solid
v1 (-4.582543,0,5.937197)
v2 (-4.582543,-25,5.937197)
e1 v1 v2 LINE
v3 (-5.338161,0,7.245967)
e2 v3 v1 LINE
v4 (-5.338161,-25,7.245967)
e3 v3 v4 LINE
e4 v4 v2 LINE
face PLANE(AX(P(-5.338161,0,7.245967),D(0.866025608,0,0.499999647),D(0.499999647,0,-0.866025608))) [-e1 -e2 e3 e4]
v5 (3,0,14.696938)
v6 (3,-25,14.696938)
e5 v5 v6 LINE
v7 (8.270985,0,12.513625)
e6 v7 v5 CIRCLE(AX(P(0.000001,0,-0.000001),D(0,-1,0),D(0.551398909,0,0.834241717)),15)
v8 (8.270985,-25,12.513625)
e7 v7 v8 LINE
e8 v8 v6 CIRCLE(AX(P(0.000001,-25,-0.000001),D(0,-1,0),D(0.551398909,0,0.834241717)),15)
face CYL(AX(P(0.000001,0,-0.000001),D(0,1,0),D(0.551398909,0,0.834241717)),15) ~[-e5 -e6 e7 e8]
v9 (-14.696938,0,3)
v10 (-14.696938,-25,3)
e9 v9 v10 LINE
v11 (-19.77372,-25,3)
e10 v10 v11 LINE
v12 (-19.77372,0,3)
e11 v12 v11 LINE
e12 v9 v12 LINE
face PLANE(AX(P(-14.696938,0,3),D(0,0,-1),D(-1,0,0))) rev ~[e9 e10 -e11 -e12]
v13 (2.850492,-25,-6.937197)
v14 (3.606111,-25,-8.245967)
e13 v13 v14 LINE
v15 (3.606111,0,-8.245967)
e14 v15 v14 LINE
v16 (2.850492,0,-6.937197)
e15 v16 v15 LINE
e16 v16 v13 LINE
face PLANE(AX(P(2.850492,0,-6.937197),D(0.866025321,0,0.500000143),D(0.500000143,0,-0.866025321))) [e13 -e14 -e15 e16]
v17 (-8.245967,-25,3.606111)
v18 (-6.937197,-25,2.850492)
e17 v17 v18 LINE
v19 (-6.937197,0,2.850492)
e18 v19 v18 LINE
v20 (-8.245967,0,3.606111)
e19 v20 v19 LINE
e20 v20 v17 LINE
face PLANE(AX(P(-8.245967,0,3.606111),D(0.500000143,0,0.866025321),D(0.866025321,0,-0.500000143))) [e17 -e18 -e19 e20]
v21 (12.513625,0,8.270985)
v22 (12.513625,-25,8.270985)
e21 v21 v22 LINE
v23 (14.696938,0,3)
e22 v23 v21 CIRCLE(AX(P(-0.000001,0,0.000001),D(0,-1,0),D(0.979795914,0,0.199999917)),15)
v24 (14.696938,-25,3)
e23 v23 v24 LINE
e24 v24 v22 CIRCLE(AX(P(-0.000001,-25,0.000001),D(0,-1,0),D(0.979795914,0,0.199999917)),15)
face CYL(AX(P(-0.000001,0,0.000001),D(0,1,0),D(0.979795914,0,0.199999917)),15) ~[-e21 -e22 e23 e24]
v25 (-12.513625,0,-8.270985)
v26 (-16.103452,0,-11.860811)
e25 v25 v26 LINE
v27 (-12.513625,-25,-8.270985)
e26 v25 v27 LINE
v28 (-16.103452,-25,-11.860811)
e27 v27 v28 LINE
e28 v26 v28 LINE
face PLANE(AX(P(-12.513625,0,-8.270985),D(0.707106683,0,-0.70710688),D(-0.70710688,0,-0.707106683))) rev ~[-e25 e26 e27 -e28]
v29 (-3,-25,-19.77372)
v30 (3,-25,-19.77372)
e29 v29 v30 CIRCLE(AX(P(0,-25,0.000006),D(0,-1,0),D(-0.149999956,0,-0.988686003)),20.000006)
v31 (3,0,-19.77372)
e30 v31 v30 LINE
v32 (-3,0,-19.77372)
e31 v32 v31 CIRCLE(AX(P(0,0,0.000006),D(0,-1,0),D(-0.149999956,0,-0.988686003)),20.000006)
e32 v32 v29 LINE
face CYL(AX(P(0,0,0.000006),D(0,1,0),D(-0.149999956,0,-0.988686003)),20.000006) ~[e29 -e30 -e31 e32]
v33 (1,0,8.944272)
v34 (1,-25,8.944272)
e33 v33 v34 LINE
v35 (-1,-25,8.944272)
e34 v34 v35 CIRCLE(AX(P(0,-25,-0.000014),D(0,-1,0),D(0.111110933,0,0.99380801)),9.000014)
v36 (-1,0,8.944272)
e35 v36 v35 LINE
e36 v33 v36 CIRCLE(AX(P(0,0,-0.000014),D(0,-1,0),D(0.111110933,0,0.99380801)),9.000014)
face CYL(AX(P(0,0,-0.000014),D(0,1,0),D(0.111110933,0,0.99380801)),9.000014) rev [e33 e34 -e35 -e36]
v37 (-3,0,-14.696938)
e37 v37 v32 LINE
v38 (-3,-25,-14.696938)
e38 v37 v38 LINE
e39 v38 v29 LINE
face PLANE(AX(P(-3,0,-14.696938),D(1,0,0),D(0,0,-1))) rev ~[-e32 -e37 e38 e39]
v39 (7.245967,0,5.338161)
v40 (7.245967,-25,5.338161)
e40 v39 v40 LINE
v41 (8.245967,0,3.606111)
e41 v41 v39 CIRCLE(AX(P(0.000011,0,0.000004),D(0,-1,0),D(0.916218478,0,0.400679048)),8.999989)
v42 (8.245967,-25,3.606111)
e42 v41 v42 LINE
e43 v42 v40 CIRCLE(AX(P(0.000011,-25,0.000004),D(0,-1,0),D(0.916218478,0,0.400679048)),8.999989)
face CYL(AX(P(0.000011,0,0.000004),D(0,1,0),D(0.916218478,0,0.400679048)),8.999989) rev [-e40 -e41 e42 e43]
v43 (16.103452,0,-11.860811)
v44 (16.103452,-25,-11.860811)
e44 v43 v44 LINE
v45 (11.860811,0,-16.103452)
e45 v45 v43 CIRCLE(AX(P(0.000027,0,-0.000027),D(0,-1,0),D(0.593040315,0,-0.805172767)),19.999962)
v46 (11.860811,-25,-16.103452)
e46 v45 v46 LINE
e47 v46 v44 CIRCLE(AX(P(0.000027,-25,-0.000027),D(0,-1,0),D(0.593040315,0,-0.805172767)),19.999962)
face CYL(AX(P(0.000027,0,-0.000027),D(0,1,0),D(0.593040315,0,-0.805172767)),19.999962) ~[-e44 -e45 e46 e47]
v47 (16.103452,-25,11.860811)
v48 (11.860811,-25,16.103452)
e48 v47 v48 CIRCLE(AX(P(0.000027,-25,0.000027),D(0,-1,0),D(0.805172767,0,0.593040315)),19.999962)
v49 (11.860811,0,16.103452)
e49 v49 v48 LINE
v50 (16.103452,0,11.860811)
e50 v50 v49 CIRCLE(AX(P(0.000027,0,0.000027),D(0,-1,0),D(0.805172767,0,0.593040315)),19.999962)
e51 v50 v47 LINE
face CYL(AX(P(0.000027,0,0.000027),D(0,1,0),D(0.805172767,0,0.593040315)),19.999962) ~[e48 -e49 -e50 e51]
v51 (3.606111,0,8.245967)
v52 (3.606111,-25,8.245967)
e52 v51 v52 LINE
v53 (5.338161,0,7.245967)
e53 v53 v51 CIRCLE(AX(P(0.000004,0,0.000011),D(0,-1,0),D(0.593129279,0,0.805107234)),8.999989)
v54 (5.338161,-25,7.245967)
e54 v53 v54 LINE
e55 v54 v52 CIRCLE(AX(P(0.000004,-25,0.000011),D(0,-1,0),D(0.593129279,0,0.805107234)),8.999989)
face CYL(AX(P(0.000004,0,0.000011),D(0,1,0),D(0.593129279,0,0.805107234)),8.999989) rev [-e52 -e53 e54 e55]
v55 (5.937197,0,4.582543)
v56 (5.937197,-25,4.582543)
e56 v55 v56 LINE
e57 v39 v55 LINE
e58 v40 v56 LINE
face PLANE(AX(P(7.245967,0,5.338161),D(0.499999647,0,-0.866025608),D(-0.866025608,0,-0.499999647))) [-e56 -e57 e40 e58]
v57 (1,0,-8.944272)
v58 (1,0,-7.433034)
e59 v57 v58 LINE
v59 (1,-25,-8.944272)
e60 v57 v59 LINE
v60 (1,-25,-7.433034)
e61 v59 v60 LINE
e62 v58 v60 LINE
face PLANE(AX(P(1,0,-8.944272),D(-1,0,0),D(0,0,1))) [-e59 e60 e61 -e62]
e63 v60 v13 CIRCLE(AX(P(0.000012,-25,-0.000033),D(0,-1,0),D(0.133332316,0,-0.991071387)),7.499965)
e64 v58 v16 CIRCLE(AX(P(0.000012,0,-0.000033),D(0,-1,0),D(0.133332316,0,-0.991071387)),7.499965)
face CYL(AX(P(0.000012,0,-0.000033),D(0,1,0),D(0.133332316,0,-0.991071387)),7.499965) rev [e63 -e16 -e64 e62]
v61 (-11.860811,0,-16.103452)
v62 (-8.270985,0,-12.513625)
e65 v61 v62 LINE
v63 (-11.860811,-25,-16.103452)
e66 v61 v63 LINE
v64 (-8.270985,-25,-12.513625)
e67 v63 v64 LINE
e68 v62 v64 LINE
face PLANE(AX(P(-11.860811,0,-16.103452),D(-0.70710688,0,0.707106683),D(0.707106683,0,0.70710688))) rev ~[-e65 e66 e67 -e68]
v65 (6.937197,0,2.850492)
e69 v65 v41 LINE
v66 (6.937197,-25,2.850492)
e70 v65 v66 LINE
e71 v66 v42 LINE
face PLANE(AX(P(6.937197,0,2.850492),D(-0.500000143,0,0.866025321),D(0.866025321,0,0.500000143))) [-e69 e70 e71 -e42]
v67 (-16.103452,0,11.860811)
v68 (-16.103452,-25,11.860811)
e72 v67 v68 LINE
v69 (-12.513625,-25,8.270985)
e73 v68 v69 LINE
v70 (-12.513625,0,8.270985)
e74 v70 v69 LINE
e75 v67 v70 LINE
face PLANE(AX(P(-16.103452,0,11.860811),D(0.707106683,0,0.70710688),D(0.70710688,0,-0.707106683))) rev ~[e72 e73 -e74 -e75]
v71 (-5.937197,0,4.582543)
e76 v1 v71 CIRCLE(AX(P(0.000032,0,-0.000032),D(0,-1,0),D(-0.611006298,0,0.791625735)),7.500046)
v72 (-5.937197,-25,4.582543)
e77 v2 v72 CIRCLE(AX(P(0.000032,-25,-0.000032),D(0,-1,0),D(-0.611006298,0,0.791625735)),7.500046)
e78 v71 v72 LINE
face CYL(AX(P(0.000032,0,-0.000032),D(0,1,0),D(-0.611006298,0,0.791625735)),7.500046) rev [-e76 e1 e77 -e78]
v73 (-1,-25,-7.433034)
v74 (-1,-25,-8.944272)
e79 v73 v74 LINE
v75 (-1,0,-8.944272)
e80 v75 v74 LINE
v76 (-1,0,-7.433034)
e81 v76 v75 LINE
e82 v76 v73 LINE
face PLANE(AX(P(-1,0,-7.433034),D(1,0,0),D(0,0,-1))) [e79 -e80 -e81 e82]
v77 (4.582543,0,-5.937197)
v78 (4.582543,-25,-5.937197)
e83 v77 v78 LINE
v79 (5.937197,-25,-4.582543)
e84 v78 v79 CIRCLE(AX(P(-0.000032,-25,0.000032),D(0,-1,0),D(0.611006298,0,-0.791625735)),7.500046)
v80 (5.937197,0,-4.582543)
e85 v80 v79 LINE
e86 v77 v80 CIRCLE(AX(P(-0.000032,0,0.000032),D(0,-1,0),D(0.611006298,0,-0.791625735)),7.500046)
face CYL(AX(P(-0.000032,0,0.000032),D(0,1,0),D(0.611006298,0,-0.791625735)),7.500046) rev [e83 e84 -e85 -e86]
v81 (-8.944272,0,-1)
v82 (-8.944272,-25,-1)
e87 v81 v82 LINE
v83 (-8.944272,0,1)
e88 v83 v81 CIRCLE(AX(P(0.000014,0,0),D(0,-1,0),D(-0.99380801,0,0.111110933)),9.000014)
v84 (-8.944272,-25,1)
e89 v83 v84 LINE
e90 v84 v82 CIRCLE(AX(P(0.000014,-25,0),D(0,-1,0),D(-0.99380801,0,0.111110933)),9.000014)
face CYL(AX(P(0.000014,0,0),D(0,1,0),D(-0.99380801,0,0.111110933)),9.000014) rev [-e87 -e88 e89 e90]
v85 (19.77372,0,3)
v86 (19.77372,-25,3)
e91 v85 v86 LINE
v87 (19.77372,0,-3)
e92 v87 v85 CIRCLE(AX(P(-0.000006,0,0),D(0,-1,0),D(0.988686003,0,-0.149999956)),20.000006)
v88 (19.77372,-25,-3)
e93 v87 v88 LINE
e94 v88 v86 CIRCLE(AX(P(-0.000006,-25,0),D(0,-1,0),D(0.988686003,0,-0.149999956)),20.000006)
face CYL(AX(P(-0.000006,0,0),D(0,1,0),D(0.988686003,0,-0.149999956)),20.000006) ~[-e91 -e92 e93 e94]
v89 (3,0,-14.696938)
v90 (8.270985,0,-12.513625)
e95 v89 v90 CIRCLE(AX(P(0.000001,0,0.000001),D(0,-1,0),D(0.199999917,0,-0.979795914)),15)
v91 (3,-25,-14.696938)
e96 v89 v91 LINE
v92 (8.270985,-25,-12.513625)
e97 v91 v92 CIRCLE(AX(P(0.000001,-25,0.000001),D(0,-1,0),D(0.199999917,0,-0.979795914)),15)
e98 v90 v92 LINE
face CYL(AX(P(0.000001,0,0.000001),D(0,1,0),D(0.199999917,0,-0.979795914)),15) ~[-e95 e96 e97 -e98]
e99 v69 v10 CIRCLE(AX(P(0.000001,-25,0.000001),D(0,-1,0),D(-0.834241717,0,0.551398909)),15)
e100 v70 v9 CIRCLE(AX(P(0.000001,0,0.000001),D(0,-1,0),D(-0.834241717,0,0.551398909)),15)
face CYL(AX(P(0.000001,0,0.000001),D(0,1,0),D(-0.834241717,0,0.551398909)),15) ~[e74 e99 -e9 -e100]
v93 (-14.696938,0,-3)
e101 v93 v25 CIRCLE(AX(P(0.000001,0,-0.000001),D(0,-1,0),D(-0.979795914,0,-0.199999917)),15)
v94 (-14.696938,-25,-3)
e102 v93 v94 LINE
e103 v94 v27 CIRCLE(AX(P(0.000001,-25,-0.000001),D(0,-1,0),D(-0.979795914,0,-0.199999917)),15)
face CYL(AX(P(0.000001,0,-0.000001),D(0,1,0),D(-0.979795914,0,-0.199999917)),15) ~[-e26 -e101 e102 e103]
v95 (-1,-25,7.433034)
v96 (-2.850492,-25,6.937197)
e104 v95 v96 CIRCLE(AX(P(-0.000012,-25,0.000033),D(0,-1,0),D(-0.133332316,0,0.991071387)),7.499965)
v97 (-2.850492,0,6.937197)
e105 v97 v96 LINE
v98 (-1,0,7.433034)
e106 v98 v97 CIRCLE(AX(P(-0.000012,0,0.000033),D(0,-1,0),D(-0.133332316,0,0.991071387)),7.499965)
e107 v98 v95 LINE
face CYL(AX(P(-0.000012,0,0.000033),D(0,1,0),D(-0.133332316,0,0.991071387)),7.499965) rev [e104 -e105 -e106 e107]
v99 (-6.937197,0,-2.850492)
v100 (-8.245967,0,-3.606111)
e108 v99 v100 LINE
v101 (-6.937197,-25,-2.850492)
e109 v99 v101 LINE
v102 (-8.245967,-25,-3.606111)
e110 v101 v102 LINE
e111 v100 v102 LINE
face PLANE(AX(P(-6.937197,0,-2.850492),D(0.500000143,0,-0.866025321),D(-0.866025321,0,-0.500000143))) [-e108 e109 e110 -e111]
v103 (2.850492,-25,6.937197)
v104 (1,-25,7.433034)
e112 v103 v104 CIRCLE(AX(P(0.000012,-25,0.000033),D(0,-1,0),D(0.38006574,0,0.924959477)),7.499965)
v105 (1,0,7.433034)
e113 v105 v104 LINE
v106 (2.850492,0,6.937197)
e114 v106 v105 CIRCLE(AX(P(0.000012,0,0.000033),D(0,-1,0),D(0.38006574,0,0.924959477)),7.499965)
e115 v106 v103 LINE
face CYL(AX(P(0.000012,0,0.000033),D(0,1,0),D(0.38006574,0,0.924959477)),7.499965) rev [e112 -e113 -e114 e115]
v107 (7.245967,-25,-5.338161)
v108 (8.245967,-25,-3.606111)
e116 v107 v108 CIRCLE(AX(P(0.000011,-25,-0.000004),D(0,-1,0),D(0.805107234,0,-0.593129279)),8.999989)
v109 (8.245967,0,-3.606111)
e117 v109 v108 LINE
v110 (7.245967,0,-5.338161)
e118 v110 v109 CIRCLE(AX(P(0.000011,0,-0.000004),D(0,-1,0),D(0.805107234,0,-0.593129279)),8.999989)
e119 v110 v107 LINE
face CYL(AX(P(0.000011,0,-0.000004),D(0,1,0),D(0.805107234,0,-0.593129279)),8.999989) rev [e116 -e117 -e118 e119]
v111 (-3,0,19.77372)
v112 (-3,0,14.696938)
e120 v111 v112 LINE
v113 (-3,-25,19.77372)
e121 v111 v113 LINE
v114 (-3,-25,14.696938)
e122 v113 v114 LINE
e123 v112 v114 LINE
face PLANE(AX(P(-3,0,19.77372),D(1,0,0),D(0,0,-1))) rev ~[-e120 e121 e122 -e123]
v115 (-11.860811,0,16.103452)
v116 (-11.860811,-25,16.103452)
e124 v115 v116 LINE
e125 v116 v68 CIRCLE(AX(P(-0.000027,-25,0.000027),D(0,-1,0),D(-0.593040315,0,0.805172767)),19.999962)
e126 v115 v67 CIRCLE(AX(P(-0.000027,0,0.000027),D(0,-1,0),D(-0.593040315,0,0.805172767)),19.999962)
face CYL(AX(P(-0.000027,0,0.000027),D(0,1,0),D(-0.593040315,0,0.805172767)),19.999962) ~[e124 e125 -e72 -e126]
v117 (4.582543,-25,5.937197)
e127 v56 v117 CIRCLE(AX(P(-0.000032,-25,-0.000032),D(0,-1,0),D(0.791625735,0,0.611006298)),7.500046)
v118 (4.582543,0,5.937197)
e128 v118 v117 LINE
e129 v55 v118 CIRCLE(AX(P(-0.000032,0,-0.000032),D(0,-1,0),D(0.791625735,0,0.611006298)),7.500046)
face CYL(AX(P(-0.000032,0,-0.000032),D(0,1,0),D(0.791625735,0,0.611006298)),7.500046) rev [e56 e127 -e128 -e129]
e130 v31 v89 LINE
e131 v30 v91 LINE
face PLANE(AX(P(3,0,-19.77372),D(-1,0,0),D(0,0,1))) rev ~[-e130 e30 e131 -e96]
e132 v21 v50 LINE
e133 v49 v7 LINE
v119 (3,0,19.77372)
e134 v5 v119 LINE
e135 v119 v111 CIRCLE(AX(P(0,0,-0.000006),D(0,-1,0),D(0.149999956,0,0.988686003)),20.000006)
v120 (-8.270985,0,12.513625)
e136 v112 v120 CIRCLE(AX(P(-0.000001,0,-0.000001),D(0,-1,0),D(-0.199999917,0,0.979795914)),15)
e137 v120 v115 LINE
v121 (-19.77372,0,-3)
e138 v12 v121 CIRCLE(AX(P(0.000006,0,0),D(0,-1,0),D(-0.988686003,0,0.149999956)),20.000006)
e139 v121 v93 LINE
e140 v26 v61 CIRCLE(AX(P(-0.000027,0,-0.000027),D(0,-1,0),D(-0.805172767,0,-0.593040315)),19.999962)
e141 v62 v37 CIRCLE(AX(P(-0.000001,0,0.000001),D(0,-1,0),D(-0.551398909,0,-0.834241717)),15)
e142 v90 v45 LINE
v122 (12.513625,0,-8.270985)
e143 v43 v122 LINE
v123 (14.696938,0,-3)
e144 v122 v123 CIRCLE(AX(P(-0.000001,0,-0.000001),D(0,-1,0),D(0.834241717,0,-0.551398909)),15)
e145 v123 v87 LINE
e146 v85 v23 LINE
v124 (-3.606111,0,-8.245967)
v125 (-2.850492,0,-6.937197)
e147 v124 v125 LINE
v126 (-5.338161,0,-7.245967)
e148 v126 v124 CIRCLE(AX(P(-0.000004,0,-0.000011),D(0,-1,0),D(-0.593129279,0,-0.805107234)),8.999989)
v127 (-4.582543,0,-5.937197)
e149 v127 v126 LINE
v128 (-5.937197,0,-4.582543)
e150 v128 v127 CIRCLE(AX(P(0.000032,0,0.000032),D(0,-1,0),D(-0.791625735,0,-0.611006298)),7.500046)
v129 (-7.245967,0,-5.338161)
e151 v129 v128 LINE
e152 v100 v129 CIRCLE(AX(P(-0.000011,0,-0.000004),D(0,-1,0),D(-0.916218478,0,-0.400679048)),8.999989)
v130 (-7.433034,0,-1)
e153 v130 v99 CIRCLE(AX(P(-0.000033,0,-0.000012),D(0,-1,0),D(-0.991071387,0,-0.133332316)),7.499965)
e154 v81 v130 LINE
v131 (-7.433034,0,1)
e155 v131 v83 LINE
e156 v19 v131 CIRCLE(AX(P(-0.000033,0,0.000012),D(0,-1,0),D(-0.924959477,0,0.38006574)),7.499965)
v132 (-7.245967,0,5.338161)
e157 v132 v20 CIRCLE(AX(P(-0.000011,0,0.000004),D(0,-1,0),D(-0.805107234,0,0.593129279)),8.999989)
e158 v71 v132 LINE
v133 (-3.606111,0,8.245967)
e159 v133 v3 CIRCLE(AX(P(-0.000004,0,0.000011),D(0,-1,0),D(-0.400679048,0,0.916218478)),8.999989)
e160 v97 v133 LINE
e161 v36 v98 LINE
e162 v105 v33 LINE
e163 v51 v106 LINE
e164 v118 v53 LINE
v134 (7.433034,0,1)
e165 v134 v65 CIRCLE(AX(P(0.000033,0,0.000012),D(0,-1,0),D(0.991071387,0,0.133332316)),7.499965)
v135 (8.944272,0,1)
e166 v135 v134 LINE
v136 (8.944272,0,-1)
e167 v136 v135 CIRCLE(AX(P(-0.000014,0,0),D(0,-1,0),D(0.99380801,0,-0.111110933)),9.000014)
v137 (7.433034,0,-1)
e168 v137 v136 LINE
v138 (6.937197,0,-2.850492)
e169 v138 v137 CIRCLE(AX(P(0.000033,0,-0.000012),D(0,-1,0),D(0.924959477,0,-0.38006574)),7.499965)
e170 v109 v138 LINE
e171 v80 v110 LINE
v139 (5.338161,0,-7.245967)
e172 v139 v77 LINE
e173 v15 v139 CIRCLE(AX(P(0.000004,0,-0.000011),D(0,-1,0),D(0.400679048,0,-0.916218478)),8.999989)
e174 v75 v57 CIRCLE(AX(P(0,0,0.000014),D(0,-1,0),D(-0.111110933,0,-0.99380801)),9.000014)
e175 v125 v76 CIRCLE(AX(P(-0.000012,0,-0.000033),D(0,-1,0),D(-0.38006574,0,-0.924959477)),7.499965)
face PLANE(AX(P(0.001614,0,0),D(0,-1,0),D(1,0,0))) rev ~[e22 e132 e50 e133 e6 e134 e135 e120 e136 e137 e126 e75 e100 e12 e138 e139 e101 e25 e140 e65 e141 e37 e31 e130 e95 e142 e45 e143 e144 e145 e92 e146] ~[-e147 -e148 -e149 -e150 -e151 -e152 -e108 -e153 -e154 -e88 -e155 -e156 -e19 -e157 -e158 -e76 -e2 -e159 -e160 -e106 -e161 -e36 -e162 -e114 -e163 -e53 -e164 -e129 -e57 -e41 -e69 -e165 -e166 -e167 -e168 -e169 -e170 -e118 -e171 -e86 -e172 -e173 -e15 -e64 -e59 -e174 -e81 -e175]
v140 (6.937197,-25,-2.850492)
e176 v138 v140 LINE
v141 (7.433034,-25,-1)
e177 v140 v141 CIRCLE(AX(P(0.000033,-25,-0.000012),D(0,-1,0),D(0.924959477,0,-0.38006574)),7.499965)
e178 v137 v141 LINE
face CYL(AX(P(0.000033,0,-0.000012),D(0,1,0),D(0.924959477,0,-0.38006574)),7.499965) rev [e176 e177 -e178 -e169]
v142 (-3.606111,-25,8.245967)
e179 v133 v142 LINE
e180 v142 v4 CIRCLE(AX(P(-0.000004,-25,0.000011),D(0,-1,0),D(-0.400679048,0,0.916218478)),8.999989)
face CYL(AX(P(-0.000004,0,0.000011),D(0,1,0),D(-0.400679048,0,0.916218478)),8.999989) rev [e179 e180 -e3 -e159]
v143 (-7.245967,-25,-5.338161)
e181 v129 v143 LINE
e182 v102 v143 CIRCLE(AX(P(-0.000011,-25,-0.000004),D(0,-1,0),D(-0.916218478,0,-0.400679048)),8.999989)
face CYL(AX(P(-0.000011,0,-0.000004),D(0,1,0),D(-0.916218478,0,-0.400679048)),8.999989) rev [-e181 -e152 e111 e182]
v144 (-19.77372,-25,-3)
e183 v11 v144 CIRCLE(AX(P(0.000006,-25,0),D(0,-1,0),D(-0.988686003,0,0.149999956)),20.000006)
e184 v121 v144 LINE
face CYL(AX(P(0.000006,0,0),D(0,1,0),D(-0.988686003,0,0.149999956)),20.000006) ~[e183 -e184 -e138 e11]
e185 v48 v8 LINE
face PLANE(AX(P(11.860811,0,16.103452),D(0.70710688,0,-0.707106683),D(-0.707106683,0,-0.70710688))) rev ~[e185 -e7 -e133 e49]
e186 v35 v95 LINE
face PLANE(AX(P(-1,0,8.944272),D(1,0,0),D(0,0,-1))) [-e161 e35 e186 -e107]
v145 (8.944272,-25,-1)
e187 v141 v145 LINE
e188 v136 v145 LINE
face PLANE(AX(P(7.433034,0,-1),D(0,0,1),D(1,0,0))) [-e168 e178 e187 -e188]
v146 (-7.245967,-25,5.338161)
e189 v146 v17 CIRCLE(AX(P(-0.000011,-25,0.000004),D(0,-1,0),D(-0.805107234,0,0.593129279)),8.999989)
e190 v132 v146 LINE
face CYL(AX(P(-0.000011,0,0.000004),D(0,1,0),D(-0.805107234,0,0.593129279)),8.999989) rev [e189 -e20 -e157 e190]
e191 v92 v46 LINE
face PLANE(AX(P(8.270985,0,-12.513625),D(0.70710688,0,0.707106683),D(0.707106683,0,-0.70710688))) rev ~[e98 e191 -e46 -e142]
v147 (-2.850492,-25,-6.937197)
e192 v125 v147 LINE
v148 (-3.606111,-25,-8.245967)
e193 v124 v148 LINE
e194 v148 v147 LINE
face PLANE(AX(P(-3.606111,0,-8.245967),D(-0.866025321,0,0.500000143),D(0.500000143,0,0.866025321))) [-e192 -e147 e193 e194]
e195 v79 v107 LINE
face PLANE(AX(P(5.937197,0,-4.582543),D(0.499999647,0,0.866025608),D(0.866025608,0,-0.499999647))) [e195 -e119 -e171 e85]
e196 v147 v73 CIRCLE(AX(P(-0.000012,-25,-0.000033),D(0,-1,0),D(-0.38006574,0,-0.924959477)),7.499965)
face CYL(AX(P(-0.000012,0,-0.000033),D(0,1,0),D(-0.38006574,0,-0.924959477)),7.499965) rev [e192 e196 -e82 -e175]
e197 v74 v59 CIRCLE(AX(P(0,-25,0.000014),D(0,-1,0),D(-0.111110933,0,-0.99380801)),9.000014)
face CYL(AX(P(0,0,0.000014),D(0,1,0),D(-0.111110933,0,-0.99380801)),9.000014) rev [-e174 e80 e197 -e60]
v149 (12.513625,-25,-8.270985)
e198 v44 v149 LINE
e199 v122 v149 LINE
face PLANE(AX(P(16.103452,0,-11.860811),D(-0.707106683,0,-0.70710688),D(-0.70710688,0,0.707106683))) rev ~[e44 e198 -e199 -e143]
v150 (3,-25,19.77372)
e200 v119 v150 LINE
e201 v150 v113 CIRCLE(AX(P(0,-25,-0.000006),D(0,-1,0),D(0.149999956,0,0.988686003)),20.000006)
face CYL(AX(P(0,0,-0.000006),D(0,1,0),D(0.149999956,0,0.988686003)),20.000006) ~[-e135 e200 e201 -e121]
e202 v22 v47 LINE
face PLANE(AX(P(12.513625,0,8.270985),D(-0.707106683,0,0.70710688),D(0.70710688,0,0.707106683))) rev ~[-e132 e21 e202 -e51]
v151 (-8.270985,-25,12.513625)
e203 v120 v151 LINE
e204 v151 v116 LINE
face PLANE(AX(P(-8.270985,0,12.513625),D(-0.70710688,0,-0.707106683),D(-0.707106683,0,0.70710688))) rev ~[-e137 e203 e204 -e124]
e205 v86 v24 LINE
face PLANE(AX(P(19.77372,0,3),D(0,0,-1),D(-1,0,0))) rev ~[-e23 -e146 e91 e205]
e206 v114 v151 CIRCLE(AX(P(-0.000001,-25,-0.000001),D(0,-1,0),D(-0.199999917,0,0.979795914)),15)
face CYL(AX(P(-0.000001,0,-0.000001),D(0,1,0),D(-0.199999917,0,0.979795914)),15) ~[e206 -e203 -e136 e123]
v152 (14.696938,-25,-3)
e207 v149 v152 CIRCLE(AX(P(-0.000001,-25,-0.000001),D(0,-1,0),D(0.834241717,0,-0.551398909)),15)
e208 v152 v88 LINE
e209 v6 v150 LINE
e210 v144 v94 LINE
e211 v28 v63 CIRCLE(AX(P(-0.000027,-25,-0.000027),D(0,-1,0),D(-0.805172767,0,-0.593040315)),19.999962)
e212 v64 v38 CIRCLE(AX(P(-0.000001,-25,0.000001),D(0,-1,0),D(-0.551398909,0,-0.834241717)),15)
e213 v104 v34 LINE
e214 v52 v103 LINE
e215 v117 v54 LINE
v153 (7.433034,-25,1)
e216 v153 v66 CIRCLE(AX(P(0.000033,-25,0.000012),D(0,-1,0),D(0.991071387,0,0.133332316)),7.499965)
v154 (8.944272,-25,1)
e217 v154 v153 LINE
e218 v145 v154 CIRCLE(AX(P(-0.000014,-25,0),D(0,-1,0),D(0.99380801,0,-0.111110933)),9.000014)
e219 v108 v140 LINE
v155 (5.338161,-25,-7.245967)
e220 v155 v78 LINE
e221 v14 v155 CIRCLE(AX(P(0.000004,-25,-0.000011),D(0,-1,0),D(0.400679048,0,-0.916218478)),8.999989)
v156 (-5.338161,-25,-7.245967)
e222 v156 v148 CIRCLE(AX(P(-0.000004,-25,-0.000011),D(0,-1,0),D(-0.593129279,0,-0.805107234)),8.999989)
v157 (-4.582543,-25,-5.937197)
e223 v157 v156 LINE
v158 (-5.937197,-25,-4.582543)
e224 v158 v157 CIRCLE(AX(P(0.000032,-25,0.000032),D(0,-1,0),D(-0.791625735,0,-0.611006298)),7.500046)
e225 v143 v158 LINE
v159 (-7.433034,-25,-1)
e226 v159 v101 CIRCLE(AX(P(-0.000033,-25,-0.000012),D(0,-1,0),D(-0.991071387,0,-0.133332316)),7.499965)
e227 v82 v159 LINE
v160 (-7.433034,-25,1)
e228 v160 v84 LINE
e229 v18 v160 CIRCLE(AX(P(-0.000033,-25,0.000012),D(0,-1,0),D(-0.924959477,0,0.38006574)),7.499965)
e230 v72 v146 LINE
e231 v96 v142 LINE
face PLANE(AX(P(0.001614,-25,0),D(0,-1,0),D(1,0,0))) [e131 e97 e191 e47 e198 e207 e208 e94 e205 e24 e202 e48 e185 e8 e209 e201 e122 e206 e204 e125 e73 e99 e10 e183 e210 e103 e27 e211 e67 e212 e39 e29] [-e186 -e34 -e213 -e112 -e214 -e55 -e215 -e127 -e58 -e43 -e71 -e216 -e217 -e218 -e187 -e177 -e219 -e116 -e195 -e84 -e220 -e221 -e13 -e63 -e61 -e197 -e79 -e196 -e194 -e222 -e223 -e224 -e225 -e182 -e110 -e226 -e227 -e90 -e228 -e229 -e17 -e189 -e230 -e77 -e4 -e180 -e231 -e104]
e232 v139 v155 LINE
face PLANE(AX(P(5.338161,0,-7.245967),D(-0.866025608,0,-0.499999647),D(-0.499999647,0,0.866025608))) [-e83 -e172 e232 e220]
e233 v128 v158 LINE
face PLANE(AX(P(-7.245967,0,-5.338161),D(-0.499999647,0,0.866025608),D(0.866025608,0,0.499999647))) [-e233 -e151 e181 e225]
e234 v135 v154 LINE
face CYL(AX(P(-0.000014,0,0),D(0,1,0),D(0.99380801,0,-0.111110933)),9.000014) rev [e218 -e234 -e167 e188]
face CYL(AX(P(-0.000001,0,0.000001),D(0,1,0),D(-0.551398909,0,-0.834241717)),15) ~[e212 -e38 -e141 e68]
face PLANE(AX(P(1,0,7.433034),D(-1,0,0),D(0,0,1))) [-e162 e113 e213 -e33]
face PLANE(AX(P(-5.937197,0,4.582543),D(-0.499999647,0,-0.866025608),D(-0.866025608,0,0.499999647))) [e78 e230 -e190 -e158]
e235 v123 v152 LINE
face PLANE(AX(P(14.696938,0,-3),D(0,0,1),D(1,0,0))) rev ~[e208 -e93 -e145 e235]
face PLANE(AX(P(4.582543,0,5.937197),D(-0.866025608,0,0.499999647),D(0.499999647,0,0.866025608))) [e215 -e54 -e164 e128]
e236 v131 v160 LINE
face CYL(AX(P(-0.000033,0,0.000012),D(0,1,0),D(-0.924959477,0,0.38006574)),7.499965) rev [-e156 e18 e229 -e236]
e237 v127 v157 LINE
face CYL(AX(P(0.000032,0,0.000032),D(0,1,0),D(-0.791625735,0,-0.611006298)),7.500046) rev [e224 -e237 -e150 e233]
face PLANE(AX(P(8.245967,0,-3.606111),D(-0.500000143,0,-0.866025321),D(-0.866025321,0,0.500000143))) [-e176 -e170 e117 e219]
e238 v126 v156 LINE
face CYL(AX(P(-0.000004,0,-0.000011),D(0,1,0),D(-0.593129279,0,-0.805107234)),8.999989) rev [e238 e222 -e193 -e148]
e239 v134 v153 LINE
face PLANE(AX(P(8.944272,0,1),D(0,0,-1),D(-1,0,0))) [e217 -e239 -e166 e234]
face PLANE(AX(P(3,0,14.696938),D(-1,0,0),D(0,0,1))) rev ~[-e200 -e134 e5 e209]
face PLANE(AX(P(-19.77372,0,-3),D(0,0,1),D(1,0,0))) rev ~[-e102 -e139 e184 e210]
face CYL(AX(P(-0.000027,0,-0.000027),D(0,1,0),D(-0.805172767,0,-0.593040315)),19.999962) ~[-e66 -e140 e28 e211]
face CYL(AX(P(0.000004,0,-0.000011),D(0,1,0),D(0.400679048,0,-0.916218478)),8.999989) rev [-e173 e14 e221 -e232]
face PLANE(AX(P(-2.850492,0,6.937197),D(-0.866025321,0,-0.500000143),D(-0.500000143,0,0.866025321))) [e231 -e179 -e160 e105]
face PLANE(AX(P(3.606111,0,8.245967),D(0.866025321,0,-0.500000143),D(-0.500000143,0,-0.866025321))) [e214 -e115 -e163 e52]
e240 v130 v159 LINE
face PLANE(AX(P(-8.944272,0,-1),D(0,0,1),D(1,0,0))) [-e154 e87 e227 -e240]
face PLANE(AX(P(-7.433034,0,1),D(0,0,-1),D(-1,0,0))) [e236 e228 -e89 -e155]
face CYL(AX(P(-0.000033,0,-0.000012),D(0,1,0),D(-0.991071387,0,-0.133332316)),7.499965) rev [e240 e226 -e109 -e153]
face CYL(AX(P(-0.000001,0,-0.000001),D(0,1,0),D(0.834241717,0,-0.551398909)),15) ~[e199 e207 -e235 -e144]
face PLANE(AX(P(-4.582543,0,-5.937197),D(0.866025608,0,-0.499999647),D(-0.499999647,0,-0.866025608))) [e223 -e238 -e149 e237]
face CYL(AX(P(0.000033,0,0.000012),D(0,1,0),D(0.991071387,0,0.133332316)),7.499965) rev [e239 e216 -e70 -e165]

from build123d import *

# Parameters (mm, degrees)
F2_DEPTH = 25
F3_DEPTH = 25


with BuildPart() as f2:
    # F1 (on Front) → F2 (new body)
    with BuildSketch(Plane.XZ):
        with BuildLine():
            ThreePointArc((14.696938, -3), (14.924042, -1.507634), (15, 0))
            ThreePointArc((15, 0), (14.924042, 1.507634), (14.696938, 3))
            ThreePointArc((14.696938, 3), (13.858193, 5.740251), (12.513625, 8.270985))
            ThreePointArc((12.513625, 8.270985), (10.606602, 10.606602), (8.270985, 12.513625))
            ThreePointArc((8.270985, 12.513625), (5.740251, 13.858193), (3, 14.696938))
            ThreePointArc((3, 14.696938), (0, 15), (-3, 14.696938))
            ThreePointArc((-3, 14.696938), (-5.740251, 13.858193), (-8.270985, 12.513625))
            ThreePointArc((-8.270985, 12.513625), (-10.606602, 10.606602), (-12.513625, 8.270985))
            ThreePointArc((-12.513625, 8.270985), (-13.858193, 5.740251), (-14.696938, 3))
            ThreePointArc((-14.696938, 3), (-15, 0), (-14.696938, -3))
            ThreePointArc((-14.696938, -3), (-13.858193, -5.740251), (-12.513625, -8.270985))
            ThreePointArc((-12.513625, -8.270985), (-10.606602, -10.606602), (-8.270985, -12.513625))
            ThreePointArc((-8.270985, -12.513625), (-5.740251, -13.858193), (-3, -14.696938))
            ThreePointArc((-3, -14.696938), (0, -15), (3, -14.696938))
            ThreePointArc((3, -14.696938), (5.740251, -13.858193), (8.270985, -12.513625))
            ThreePointArc((8.270985, -12.513625), (10.606602, -10.606602), (12.513625, -8.270985))
            ThreePointArc((12.513625, -8.270985), (13.858193, -5.740251), (14.696938, -3))
        make_face()
        with BuildLine():
            ThreePointArc((-12.513625, 8.270985), (-10.606602, 10.606602), (-8.270985, 12.513625))
            Line((-8.270985, 12.513625), (-11.860811, 16.103452))
            ThreePointArc((-11.860811, 16.103452), (-14.142136, 14.142136), (-16.103452, 11.860811))
            Line((-16.103452, 11.860811), (-12.513625, 8.270985))
        make_face()
        with BuildLine():
            ThreePointArc((-14.696938, -3), (-15, 0), (-14.696938, 3))
            Line((-14.696938, 3), (-19.77372, 3))
            ThreePointArc((-19.77372, 3), (-20, 0), (-19.77372, -3))
            Line((-19.77372, -3), (-14.696938, -3))
        make_face()
        with BuildLine():
            Line((-11.860811, -16.103452), (-8.270985, -12.513625))
            ThreePointArc((-8.270985, -12.513625), (-10.606602, -10.606602), (-12.513625, -8.270985))
            Line((-12.513625, -8.270985), (-16.103452, -11.860811))
            ThreePointArc((-16.103452, -11.860811), (-14.142136, -14.142136), (-11.860811, -16.103452))
        make_face()
        with BuildLine():
            Line((3, -19.77372), (3, -14.696938))
            ThreePointArc((3, -14.696938), (0, -15), (-3, -14.696938))
            Line((-3, -14.696938), (-3, -19.77372))
            ThreePointArc((-3, -19.77372), (0, -20), (3, -19.77372))
        make_face()
        with BuildLine():
            Line((16.103452, -11.860811), (12.513625, -8.270985))
            ThreePointArc((12.513625, -8.270985), (10.606602, -10.606602), (8.270985, -12.513625))
            Line((8.270985, -12.513625), (11.860811, -16.103452))
            ThreePointArc((11.860811, -16.103452), (14.142136, -14.142136), (16.103452, -11.860811))
        make_face()
        with BuildLine():
            ThreePointArc((14.696938, 3), (14.924042, 1.507634), (15, 0))
            ThreePointArc((15, 0), (14.924042, -1.507634), (14.696938, -3))
            Line((14.696938, -3), (19.77372, -3))
            ThreePointArc((19.77372, -3), (20, 0), (19.77372, 3))
            Line((19.77372, 3), (14.696938, 3))
        make_face()
        with BuildLine():
            ThreePointArc((8.270985, 12.513625), (10.606602, 10.606602), (12.513625, 8.270985))
            Line((12.513625, 8.270985), (16.103452, 11.860811))
            ThreePointArc((16.103452, 11.860811), (14.142136, 14.142136), (11.860811, 16.103452))
            Line((11.860811, 16.103452), (8.270985, 12.513625))
        make_face()
        with BuildLine():
            ThreePointArc((-3, 14.696938), (0, 15), (3, 14.696938))
            Line((3, 14.696938), (3, 19.77372))
            ThreePointArc((3, 19.77372), (0, 20), (-3, 19.77372))
            Line((-3, 19.77372), (-3, 14.696938))
        make_face()
    extrude(amount=F2_DEPTH)

    # F0 (on Front) → F3 (cut)
    with BuildSketch(Plane.XZ):
        with BuildLine():
            Line((-5.338161, 7.245967), (-4.582543, 5.937197))
            ThreePointArc((-4.582543, 5.937197), (-5.303301, 5.303301), (-5.937197, 4.582543))
            Line((-5.937197, 4.582543), (-7.245967, 5.338161))
            ThreePointArc((-7.245967, 5.338161), (-7.794229, 4.5), (-8.245967, 3.606111))
            Line((-8.245967, 3.606111), (-6.937197, 2.850492))
            ThreePointArc((-6.937197, 2.850492), (-7.244444, 1.941143), (-7.433034, 1))
            Line((-7.433034, 1), (-8.944272, 1))
            ThreePointArc((-8.944272, 1), (-9, 0), (-8.944272, -1))
            Line((-8.944272, -1), (-7.433034, -1))
            ThreePointArc((-7.433034, -1), (-7.244444, -1.941143), (-6.937197, -2.850492))
            Line((-6.937197, -2.850492), (-8.245967, -3.606111))
            ThreePointArc((-8.245967, -3.606111), (-7.794229, -4.5), (-7.245967, -5.338161))
            Line((-7.245967, -5.338161), (-5.937197, -4.582543))
            ThreePointArc((-5.937197, -4.582543), (-5.303301, -5.303301), (-4.582543, -5.937197))
            Line((-4.582543, -5.937197), (-5.338161, -7.245967))
            ThreePointArc((-5.338161, -7.245967), (-4.5, -7.794229), (-3.606111, -8.245967))
            Line((-3.606111, -8.245967), (-2.850492, -6.937197))
            ThreePointArc((-2.850492, -6.937197), (-1.941143, -7.244444), (-1, -7.433034))
            Line((-1, -7.433034), (-1, -8.944272))
            ThreePointArc((-1, -8.944272), (0, -9), (1, -8.944272))
            Line((1, -8.944272), (1, -7.433034))
            ThreePointArc((1, -7.433034), (1.941143, -7.244444), (2.850492, -6.937197))
            Line((2.850492, -6.937197), (3.606111, -8.245967))
            ThreePointArc((3.606111, -8.245967), (4.5, -7.794229), (5.338161, -7.245967))
            Line((5.338161, -7.245967), (4.582543, -5.937197))
            ThreePointArc((4.582543, -5.937197), (5.303301, -5.303301), (5.937197, -4.582543))
            Line((5.937197, -4.582543), (7.245967, -5.338161))
            ThreePointArc((7.245967, -5.338161), (7.794229, -4.5), (8.245967, -3.606111))
            Line((8.245967, -3.606111), (6.937197, -2.850492))
            ThreePointArc((6.937197, -2.850492), (7.244444, -1.941143), (7.433034, -1))
            Line((7.433034, -1), (8.944272, -1))
            ThreePointArc((8.944272, -1), (9, 0), (8.944272, 1))
            Line((8.944272, 1), (7.433034, 1))
            ThreePointArc((7.433034, 1), (7.244444, 1.941143), (6.937197, 2.850492))
            Line((6.937197, 2.850492), (8.245967, 3.606111))
            ThreePointArc((8.245967, 3.606111), (7.794229, 4.5), (7.245967, 5.338161))
            Line((7.245967, 5.338161), (5.937197, 4.582543))
            ThreePointArc((5.937197, 4.582543), (5.303301, 5.303301), (4.582543, 5.937197))
            Line((4.582543, 5.937197), (5.338161, 7.245967))
            ThreePointArc((5.338161, 7.245967), (4.5, 7.794229), (3.606111, 8.245967))
            Line((3.606111, 8.245967), (2.850492, 6.937197))
            ThreePointArc((2.850492, 6.937197), (1.941143, 7.244444), (1, 7.433034))
            Line((1, 7.433034), (1, 8.944272))
            ThreePointArc((1, 8.944272), (0, 9), (-1, 8.944272))
            Line((-1, 8.944272), (-1, 7.433034))
            ThreePointArc((-1, 7.433034), (-1.941143, 7.244444), (-2.850492, 6.937197))
            Line((-2.850492, 6.937197), (-3.606111, 8.245967))
            ThreePointArc((-3.606111, 8.245967), (-4.5, 7.794229), (-5.338161, 7.245967))
        make_face()
    extrude(amount=F3_DEPTH, mode=Mode.SUBTRACT)


solid = f2.part
